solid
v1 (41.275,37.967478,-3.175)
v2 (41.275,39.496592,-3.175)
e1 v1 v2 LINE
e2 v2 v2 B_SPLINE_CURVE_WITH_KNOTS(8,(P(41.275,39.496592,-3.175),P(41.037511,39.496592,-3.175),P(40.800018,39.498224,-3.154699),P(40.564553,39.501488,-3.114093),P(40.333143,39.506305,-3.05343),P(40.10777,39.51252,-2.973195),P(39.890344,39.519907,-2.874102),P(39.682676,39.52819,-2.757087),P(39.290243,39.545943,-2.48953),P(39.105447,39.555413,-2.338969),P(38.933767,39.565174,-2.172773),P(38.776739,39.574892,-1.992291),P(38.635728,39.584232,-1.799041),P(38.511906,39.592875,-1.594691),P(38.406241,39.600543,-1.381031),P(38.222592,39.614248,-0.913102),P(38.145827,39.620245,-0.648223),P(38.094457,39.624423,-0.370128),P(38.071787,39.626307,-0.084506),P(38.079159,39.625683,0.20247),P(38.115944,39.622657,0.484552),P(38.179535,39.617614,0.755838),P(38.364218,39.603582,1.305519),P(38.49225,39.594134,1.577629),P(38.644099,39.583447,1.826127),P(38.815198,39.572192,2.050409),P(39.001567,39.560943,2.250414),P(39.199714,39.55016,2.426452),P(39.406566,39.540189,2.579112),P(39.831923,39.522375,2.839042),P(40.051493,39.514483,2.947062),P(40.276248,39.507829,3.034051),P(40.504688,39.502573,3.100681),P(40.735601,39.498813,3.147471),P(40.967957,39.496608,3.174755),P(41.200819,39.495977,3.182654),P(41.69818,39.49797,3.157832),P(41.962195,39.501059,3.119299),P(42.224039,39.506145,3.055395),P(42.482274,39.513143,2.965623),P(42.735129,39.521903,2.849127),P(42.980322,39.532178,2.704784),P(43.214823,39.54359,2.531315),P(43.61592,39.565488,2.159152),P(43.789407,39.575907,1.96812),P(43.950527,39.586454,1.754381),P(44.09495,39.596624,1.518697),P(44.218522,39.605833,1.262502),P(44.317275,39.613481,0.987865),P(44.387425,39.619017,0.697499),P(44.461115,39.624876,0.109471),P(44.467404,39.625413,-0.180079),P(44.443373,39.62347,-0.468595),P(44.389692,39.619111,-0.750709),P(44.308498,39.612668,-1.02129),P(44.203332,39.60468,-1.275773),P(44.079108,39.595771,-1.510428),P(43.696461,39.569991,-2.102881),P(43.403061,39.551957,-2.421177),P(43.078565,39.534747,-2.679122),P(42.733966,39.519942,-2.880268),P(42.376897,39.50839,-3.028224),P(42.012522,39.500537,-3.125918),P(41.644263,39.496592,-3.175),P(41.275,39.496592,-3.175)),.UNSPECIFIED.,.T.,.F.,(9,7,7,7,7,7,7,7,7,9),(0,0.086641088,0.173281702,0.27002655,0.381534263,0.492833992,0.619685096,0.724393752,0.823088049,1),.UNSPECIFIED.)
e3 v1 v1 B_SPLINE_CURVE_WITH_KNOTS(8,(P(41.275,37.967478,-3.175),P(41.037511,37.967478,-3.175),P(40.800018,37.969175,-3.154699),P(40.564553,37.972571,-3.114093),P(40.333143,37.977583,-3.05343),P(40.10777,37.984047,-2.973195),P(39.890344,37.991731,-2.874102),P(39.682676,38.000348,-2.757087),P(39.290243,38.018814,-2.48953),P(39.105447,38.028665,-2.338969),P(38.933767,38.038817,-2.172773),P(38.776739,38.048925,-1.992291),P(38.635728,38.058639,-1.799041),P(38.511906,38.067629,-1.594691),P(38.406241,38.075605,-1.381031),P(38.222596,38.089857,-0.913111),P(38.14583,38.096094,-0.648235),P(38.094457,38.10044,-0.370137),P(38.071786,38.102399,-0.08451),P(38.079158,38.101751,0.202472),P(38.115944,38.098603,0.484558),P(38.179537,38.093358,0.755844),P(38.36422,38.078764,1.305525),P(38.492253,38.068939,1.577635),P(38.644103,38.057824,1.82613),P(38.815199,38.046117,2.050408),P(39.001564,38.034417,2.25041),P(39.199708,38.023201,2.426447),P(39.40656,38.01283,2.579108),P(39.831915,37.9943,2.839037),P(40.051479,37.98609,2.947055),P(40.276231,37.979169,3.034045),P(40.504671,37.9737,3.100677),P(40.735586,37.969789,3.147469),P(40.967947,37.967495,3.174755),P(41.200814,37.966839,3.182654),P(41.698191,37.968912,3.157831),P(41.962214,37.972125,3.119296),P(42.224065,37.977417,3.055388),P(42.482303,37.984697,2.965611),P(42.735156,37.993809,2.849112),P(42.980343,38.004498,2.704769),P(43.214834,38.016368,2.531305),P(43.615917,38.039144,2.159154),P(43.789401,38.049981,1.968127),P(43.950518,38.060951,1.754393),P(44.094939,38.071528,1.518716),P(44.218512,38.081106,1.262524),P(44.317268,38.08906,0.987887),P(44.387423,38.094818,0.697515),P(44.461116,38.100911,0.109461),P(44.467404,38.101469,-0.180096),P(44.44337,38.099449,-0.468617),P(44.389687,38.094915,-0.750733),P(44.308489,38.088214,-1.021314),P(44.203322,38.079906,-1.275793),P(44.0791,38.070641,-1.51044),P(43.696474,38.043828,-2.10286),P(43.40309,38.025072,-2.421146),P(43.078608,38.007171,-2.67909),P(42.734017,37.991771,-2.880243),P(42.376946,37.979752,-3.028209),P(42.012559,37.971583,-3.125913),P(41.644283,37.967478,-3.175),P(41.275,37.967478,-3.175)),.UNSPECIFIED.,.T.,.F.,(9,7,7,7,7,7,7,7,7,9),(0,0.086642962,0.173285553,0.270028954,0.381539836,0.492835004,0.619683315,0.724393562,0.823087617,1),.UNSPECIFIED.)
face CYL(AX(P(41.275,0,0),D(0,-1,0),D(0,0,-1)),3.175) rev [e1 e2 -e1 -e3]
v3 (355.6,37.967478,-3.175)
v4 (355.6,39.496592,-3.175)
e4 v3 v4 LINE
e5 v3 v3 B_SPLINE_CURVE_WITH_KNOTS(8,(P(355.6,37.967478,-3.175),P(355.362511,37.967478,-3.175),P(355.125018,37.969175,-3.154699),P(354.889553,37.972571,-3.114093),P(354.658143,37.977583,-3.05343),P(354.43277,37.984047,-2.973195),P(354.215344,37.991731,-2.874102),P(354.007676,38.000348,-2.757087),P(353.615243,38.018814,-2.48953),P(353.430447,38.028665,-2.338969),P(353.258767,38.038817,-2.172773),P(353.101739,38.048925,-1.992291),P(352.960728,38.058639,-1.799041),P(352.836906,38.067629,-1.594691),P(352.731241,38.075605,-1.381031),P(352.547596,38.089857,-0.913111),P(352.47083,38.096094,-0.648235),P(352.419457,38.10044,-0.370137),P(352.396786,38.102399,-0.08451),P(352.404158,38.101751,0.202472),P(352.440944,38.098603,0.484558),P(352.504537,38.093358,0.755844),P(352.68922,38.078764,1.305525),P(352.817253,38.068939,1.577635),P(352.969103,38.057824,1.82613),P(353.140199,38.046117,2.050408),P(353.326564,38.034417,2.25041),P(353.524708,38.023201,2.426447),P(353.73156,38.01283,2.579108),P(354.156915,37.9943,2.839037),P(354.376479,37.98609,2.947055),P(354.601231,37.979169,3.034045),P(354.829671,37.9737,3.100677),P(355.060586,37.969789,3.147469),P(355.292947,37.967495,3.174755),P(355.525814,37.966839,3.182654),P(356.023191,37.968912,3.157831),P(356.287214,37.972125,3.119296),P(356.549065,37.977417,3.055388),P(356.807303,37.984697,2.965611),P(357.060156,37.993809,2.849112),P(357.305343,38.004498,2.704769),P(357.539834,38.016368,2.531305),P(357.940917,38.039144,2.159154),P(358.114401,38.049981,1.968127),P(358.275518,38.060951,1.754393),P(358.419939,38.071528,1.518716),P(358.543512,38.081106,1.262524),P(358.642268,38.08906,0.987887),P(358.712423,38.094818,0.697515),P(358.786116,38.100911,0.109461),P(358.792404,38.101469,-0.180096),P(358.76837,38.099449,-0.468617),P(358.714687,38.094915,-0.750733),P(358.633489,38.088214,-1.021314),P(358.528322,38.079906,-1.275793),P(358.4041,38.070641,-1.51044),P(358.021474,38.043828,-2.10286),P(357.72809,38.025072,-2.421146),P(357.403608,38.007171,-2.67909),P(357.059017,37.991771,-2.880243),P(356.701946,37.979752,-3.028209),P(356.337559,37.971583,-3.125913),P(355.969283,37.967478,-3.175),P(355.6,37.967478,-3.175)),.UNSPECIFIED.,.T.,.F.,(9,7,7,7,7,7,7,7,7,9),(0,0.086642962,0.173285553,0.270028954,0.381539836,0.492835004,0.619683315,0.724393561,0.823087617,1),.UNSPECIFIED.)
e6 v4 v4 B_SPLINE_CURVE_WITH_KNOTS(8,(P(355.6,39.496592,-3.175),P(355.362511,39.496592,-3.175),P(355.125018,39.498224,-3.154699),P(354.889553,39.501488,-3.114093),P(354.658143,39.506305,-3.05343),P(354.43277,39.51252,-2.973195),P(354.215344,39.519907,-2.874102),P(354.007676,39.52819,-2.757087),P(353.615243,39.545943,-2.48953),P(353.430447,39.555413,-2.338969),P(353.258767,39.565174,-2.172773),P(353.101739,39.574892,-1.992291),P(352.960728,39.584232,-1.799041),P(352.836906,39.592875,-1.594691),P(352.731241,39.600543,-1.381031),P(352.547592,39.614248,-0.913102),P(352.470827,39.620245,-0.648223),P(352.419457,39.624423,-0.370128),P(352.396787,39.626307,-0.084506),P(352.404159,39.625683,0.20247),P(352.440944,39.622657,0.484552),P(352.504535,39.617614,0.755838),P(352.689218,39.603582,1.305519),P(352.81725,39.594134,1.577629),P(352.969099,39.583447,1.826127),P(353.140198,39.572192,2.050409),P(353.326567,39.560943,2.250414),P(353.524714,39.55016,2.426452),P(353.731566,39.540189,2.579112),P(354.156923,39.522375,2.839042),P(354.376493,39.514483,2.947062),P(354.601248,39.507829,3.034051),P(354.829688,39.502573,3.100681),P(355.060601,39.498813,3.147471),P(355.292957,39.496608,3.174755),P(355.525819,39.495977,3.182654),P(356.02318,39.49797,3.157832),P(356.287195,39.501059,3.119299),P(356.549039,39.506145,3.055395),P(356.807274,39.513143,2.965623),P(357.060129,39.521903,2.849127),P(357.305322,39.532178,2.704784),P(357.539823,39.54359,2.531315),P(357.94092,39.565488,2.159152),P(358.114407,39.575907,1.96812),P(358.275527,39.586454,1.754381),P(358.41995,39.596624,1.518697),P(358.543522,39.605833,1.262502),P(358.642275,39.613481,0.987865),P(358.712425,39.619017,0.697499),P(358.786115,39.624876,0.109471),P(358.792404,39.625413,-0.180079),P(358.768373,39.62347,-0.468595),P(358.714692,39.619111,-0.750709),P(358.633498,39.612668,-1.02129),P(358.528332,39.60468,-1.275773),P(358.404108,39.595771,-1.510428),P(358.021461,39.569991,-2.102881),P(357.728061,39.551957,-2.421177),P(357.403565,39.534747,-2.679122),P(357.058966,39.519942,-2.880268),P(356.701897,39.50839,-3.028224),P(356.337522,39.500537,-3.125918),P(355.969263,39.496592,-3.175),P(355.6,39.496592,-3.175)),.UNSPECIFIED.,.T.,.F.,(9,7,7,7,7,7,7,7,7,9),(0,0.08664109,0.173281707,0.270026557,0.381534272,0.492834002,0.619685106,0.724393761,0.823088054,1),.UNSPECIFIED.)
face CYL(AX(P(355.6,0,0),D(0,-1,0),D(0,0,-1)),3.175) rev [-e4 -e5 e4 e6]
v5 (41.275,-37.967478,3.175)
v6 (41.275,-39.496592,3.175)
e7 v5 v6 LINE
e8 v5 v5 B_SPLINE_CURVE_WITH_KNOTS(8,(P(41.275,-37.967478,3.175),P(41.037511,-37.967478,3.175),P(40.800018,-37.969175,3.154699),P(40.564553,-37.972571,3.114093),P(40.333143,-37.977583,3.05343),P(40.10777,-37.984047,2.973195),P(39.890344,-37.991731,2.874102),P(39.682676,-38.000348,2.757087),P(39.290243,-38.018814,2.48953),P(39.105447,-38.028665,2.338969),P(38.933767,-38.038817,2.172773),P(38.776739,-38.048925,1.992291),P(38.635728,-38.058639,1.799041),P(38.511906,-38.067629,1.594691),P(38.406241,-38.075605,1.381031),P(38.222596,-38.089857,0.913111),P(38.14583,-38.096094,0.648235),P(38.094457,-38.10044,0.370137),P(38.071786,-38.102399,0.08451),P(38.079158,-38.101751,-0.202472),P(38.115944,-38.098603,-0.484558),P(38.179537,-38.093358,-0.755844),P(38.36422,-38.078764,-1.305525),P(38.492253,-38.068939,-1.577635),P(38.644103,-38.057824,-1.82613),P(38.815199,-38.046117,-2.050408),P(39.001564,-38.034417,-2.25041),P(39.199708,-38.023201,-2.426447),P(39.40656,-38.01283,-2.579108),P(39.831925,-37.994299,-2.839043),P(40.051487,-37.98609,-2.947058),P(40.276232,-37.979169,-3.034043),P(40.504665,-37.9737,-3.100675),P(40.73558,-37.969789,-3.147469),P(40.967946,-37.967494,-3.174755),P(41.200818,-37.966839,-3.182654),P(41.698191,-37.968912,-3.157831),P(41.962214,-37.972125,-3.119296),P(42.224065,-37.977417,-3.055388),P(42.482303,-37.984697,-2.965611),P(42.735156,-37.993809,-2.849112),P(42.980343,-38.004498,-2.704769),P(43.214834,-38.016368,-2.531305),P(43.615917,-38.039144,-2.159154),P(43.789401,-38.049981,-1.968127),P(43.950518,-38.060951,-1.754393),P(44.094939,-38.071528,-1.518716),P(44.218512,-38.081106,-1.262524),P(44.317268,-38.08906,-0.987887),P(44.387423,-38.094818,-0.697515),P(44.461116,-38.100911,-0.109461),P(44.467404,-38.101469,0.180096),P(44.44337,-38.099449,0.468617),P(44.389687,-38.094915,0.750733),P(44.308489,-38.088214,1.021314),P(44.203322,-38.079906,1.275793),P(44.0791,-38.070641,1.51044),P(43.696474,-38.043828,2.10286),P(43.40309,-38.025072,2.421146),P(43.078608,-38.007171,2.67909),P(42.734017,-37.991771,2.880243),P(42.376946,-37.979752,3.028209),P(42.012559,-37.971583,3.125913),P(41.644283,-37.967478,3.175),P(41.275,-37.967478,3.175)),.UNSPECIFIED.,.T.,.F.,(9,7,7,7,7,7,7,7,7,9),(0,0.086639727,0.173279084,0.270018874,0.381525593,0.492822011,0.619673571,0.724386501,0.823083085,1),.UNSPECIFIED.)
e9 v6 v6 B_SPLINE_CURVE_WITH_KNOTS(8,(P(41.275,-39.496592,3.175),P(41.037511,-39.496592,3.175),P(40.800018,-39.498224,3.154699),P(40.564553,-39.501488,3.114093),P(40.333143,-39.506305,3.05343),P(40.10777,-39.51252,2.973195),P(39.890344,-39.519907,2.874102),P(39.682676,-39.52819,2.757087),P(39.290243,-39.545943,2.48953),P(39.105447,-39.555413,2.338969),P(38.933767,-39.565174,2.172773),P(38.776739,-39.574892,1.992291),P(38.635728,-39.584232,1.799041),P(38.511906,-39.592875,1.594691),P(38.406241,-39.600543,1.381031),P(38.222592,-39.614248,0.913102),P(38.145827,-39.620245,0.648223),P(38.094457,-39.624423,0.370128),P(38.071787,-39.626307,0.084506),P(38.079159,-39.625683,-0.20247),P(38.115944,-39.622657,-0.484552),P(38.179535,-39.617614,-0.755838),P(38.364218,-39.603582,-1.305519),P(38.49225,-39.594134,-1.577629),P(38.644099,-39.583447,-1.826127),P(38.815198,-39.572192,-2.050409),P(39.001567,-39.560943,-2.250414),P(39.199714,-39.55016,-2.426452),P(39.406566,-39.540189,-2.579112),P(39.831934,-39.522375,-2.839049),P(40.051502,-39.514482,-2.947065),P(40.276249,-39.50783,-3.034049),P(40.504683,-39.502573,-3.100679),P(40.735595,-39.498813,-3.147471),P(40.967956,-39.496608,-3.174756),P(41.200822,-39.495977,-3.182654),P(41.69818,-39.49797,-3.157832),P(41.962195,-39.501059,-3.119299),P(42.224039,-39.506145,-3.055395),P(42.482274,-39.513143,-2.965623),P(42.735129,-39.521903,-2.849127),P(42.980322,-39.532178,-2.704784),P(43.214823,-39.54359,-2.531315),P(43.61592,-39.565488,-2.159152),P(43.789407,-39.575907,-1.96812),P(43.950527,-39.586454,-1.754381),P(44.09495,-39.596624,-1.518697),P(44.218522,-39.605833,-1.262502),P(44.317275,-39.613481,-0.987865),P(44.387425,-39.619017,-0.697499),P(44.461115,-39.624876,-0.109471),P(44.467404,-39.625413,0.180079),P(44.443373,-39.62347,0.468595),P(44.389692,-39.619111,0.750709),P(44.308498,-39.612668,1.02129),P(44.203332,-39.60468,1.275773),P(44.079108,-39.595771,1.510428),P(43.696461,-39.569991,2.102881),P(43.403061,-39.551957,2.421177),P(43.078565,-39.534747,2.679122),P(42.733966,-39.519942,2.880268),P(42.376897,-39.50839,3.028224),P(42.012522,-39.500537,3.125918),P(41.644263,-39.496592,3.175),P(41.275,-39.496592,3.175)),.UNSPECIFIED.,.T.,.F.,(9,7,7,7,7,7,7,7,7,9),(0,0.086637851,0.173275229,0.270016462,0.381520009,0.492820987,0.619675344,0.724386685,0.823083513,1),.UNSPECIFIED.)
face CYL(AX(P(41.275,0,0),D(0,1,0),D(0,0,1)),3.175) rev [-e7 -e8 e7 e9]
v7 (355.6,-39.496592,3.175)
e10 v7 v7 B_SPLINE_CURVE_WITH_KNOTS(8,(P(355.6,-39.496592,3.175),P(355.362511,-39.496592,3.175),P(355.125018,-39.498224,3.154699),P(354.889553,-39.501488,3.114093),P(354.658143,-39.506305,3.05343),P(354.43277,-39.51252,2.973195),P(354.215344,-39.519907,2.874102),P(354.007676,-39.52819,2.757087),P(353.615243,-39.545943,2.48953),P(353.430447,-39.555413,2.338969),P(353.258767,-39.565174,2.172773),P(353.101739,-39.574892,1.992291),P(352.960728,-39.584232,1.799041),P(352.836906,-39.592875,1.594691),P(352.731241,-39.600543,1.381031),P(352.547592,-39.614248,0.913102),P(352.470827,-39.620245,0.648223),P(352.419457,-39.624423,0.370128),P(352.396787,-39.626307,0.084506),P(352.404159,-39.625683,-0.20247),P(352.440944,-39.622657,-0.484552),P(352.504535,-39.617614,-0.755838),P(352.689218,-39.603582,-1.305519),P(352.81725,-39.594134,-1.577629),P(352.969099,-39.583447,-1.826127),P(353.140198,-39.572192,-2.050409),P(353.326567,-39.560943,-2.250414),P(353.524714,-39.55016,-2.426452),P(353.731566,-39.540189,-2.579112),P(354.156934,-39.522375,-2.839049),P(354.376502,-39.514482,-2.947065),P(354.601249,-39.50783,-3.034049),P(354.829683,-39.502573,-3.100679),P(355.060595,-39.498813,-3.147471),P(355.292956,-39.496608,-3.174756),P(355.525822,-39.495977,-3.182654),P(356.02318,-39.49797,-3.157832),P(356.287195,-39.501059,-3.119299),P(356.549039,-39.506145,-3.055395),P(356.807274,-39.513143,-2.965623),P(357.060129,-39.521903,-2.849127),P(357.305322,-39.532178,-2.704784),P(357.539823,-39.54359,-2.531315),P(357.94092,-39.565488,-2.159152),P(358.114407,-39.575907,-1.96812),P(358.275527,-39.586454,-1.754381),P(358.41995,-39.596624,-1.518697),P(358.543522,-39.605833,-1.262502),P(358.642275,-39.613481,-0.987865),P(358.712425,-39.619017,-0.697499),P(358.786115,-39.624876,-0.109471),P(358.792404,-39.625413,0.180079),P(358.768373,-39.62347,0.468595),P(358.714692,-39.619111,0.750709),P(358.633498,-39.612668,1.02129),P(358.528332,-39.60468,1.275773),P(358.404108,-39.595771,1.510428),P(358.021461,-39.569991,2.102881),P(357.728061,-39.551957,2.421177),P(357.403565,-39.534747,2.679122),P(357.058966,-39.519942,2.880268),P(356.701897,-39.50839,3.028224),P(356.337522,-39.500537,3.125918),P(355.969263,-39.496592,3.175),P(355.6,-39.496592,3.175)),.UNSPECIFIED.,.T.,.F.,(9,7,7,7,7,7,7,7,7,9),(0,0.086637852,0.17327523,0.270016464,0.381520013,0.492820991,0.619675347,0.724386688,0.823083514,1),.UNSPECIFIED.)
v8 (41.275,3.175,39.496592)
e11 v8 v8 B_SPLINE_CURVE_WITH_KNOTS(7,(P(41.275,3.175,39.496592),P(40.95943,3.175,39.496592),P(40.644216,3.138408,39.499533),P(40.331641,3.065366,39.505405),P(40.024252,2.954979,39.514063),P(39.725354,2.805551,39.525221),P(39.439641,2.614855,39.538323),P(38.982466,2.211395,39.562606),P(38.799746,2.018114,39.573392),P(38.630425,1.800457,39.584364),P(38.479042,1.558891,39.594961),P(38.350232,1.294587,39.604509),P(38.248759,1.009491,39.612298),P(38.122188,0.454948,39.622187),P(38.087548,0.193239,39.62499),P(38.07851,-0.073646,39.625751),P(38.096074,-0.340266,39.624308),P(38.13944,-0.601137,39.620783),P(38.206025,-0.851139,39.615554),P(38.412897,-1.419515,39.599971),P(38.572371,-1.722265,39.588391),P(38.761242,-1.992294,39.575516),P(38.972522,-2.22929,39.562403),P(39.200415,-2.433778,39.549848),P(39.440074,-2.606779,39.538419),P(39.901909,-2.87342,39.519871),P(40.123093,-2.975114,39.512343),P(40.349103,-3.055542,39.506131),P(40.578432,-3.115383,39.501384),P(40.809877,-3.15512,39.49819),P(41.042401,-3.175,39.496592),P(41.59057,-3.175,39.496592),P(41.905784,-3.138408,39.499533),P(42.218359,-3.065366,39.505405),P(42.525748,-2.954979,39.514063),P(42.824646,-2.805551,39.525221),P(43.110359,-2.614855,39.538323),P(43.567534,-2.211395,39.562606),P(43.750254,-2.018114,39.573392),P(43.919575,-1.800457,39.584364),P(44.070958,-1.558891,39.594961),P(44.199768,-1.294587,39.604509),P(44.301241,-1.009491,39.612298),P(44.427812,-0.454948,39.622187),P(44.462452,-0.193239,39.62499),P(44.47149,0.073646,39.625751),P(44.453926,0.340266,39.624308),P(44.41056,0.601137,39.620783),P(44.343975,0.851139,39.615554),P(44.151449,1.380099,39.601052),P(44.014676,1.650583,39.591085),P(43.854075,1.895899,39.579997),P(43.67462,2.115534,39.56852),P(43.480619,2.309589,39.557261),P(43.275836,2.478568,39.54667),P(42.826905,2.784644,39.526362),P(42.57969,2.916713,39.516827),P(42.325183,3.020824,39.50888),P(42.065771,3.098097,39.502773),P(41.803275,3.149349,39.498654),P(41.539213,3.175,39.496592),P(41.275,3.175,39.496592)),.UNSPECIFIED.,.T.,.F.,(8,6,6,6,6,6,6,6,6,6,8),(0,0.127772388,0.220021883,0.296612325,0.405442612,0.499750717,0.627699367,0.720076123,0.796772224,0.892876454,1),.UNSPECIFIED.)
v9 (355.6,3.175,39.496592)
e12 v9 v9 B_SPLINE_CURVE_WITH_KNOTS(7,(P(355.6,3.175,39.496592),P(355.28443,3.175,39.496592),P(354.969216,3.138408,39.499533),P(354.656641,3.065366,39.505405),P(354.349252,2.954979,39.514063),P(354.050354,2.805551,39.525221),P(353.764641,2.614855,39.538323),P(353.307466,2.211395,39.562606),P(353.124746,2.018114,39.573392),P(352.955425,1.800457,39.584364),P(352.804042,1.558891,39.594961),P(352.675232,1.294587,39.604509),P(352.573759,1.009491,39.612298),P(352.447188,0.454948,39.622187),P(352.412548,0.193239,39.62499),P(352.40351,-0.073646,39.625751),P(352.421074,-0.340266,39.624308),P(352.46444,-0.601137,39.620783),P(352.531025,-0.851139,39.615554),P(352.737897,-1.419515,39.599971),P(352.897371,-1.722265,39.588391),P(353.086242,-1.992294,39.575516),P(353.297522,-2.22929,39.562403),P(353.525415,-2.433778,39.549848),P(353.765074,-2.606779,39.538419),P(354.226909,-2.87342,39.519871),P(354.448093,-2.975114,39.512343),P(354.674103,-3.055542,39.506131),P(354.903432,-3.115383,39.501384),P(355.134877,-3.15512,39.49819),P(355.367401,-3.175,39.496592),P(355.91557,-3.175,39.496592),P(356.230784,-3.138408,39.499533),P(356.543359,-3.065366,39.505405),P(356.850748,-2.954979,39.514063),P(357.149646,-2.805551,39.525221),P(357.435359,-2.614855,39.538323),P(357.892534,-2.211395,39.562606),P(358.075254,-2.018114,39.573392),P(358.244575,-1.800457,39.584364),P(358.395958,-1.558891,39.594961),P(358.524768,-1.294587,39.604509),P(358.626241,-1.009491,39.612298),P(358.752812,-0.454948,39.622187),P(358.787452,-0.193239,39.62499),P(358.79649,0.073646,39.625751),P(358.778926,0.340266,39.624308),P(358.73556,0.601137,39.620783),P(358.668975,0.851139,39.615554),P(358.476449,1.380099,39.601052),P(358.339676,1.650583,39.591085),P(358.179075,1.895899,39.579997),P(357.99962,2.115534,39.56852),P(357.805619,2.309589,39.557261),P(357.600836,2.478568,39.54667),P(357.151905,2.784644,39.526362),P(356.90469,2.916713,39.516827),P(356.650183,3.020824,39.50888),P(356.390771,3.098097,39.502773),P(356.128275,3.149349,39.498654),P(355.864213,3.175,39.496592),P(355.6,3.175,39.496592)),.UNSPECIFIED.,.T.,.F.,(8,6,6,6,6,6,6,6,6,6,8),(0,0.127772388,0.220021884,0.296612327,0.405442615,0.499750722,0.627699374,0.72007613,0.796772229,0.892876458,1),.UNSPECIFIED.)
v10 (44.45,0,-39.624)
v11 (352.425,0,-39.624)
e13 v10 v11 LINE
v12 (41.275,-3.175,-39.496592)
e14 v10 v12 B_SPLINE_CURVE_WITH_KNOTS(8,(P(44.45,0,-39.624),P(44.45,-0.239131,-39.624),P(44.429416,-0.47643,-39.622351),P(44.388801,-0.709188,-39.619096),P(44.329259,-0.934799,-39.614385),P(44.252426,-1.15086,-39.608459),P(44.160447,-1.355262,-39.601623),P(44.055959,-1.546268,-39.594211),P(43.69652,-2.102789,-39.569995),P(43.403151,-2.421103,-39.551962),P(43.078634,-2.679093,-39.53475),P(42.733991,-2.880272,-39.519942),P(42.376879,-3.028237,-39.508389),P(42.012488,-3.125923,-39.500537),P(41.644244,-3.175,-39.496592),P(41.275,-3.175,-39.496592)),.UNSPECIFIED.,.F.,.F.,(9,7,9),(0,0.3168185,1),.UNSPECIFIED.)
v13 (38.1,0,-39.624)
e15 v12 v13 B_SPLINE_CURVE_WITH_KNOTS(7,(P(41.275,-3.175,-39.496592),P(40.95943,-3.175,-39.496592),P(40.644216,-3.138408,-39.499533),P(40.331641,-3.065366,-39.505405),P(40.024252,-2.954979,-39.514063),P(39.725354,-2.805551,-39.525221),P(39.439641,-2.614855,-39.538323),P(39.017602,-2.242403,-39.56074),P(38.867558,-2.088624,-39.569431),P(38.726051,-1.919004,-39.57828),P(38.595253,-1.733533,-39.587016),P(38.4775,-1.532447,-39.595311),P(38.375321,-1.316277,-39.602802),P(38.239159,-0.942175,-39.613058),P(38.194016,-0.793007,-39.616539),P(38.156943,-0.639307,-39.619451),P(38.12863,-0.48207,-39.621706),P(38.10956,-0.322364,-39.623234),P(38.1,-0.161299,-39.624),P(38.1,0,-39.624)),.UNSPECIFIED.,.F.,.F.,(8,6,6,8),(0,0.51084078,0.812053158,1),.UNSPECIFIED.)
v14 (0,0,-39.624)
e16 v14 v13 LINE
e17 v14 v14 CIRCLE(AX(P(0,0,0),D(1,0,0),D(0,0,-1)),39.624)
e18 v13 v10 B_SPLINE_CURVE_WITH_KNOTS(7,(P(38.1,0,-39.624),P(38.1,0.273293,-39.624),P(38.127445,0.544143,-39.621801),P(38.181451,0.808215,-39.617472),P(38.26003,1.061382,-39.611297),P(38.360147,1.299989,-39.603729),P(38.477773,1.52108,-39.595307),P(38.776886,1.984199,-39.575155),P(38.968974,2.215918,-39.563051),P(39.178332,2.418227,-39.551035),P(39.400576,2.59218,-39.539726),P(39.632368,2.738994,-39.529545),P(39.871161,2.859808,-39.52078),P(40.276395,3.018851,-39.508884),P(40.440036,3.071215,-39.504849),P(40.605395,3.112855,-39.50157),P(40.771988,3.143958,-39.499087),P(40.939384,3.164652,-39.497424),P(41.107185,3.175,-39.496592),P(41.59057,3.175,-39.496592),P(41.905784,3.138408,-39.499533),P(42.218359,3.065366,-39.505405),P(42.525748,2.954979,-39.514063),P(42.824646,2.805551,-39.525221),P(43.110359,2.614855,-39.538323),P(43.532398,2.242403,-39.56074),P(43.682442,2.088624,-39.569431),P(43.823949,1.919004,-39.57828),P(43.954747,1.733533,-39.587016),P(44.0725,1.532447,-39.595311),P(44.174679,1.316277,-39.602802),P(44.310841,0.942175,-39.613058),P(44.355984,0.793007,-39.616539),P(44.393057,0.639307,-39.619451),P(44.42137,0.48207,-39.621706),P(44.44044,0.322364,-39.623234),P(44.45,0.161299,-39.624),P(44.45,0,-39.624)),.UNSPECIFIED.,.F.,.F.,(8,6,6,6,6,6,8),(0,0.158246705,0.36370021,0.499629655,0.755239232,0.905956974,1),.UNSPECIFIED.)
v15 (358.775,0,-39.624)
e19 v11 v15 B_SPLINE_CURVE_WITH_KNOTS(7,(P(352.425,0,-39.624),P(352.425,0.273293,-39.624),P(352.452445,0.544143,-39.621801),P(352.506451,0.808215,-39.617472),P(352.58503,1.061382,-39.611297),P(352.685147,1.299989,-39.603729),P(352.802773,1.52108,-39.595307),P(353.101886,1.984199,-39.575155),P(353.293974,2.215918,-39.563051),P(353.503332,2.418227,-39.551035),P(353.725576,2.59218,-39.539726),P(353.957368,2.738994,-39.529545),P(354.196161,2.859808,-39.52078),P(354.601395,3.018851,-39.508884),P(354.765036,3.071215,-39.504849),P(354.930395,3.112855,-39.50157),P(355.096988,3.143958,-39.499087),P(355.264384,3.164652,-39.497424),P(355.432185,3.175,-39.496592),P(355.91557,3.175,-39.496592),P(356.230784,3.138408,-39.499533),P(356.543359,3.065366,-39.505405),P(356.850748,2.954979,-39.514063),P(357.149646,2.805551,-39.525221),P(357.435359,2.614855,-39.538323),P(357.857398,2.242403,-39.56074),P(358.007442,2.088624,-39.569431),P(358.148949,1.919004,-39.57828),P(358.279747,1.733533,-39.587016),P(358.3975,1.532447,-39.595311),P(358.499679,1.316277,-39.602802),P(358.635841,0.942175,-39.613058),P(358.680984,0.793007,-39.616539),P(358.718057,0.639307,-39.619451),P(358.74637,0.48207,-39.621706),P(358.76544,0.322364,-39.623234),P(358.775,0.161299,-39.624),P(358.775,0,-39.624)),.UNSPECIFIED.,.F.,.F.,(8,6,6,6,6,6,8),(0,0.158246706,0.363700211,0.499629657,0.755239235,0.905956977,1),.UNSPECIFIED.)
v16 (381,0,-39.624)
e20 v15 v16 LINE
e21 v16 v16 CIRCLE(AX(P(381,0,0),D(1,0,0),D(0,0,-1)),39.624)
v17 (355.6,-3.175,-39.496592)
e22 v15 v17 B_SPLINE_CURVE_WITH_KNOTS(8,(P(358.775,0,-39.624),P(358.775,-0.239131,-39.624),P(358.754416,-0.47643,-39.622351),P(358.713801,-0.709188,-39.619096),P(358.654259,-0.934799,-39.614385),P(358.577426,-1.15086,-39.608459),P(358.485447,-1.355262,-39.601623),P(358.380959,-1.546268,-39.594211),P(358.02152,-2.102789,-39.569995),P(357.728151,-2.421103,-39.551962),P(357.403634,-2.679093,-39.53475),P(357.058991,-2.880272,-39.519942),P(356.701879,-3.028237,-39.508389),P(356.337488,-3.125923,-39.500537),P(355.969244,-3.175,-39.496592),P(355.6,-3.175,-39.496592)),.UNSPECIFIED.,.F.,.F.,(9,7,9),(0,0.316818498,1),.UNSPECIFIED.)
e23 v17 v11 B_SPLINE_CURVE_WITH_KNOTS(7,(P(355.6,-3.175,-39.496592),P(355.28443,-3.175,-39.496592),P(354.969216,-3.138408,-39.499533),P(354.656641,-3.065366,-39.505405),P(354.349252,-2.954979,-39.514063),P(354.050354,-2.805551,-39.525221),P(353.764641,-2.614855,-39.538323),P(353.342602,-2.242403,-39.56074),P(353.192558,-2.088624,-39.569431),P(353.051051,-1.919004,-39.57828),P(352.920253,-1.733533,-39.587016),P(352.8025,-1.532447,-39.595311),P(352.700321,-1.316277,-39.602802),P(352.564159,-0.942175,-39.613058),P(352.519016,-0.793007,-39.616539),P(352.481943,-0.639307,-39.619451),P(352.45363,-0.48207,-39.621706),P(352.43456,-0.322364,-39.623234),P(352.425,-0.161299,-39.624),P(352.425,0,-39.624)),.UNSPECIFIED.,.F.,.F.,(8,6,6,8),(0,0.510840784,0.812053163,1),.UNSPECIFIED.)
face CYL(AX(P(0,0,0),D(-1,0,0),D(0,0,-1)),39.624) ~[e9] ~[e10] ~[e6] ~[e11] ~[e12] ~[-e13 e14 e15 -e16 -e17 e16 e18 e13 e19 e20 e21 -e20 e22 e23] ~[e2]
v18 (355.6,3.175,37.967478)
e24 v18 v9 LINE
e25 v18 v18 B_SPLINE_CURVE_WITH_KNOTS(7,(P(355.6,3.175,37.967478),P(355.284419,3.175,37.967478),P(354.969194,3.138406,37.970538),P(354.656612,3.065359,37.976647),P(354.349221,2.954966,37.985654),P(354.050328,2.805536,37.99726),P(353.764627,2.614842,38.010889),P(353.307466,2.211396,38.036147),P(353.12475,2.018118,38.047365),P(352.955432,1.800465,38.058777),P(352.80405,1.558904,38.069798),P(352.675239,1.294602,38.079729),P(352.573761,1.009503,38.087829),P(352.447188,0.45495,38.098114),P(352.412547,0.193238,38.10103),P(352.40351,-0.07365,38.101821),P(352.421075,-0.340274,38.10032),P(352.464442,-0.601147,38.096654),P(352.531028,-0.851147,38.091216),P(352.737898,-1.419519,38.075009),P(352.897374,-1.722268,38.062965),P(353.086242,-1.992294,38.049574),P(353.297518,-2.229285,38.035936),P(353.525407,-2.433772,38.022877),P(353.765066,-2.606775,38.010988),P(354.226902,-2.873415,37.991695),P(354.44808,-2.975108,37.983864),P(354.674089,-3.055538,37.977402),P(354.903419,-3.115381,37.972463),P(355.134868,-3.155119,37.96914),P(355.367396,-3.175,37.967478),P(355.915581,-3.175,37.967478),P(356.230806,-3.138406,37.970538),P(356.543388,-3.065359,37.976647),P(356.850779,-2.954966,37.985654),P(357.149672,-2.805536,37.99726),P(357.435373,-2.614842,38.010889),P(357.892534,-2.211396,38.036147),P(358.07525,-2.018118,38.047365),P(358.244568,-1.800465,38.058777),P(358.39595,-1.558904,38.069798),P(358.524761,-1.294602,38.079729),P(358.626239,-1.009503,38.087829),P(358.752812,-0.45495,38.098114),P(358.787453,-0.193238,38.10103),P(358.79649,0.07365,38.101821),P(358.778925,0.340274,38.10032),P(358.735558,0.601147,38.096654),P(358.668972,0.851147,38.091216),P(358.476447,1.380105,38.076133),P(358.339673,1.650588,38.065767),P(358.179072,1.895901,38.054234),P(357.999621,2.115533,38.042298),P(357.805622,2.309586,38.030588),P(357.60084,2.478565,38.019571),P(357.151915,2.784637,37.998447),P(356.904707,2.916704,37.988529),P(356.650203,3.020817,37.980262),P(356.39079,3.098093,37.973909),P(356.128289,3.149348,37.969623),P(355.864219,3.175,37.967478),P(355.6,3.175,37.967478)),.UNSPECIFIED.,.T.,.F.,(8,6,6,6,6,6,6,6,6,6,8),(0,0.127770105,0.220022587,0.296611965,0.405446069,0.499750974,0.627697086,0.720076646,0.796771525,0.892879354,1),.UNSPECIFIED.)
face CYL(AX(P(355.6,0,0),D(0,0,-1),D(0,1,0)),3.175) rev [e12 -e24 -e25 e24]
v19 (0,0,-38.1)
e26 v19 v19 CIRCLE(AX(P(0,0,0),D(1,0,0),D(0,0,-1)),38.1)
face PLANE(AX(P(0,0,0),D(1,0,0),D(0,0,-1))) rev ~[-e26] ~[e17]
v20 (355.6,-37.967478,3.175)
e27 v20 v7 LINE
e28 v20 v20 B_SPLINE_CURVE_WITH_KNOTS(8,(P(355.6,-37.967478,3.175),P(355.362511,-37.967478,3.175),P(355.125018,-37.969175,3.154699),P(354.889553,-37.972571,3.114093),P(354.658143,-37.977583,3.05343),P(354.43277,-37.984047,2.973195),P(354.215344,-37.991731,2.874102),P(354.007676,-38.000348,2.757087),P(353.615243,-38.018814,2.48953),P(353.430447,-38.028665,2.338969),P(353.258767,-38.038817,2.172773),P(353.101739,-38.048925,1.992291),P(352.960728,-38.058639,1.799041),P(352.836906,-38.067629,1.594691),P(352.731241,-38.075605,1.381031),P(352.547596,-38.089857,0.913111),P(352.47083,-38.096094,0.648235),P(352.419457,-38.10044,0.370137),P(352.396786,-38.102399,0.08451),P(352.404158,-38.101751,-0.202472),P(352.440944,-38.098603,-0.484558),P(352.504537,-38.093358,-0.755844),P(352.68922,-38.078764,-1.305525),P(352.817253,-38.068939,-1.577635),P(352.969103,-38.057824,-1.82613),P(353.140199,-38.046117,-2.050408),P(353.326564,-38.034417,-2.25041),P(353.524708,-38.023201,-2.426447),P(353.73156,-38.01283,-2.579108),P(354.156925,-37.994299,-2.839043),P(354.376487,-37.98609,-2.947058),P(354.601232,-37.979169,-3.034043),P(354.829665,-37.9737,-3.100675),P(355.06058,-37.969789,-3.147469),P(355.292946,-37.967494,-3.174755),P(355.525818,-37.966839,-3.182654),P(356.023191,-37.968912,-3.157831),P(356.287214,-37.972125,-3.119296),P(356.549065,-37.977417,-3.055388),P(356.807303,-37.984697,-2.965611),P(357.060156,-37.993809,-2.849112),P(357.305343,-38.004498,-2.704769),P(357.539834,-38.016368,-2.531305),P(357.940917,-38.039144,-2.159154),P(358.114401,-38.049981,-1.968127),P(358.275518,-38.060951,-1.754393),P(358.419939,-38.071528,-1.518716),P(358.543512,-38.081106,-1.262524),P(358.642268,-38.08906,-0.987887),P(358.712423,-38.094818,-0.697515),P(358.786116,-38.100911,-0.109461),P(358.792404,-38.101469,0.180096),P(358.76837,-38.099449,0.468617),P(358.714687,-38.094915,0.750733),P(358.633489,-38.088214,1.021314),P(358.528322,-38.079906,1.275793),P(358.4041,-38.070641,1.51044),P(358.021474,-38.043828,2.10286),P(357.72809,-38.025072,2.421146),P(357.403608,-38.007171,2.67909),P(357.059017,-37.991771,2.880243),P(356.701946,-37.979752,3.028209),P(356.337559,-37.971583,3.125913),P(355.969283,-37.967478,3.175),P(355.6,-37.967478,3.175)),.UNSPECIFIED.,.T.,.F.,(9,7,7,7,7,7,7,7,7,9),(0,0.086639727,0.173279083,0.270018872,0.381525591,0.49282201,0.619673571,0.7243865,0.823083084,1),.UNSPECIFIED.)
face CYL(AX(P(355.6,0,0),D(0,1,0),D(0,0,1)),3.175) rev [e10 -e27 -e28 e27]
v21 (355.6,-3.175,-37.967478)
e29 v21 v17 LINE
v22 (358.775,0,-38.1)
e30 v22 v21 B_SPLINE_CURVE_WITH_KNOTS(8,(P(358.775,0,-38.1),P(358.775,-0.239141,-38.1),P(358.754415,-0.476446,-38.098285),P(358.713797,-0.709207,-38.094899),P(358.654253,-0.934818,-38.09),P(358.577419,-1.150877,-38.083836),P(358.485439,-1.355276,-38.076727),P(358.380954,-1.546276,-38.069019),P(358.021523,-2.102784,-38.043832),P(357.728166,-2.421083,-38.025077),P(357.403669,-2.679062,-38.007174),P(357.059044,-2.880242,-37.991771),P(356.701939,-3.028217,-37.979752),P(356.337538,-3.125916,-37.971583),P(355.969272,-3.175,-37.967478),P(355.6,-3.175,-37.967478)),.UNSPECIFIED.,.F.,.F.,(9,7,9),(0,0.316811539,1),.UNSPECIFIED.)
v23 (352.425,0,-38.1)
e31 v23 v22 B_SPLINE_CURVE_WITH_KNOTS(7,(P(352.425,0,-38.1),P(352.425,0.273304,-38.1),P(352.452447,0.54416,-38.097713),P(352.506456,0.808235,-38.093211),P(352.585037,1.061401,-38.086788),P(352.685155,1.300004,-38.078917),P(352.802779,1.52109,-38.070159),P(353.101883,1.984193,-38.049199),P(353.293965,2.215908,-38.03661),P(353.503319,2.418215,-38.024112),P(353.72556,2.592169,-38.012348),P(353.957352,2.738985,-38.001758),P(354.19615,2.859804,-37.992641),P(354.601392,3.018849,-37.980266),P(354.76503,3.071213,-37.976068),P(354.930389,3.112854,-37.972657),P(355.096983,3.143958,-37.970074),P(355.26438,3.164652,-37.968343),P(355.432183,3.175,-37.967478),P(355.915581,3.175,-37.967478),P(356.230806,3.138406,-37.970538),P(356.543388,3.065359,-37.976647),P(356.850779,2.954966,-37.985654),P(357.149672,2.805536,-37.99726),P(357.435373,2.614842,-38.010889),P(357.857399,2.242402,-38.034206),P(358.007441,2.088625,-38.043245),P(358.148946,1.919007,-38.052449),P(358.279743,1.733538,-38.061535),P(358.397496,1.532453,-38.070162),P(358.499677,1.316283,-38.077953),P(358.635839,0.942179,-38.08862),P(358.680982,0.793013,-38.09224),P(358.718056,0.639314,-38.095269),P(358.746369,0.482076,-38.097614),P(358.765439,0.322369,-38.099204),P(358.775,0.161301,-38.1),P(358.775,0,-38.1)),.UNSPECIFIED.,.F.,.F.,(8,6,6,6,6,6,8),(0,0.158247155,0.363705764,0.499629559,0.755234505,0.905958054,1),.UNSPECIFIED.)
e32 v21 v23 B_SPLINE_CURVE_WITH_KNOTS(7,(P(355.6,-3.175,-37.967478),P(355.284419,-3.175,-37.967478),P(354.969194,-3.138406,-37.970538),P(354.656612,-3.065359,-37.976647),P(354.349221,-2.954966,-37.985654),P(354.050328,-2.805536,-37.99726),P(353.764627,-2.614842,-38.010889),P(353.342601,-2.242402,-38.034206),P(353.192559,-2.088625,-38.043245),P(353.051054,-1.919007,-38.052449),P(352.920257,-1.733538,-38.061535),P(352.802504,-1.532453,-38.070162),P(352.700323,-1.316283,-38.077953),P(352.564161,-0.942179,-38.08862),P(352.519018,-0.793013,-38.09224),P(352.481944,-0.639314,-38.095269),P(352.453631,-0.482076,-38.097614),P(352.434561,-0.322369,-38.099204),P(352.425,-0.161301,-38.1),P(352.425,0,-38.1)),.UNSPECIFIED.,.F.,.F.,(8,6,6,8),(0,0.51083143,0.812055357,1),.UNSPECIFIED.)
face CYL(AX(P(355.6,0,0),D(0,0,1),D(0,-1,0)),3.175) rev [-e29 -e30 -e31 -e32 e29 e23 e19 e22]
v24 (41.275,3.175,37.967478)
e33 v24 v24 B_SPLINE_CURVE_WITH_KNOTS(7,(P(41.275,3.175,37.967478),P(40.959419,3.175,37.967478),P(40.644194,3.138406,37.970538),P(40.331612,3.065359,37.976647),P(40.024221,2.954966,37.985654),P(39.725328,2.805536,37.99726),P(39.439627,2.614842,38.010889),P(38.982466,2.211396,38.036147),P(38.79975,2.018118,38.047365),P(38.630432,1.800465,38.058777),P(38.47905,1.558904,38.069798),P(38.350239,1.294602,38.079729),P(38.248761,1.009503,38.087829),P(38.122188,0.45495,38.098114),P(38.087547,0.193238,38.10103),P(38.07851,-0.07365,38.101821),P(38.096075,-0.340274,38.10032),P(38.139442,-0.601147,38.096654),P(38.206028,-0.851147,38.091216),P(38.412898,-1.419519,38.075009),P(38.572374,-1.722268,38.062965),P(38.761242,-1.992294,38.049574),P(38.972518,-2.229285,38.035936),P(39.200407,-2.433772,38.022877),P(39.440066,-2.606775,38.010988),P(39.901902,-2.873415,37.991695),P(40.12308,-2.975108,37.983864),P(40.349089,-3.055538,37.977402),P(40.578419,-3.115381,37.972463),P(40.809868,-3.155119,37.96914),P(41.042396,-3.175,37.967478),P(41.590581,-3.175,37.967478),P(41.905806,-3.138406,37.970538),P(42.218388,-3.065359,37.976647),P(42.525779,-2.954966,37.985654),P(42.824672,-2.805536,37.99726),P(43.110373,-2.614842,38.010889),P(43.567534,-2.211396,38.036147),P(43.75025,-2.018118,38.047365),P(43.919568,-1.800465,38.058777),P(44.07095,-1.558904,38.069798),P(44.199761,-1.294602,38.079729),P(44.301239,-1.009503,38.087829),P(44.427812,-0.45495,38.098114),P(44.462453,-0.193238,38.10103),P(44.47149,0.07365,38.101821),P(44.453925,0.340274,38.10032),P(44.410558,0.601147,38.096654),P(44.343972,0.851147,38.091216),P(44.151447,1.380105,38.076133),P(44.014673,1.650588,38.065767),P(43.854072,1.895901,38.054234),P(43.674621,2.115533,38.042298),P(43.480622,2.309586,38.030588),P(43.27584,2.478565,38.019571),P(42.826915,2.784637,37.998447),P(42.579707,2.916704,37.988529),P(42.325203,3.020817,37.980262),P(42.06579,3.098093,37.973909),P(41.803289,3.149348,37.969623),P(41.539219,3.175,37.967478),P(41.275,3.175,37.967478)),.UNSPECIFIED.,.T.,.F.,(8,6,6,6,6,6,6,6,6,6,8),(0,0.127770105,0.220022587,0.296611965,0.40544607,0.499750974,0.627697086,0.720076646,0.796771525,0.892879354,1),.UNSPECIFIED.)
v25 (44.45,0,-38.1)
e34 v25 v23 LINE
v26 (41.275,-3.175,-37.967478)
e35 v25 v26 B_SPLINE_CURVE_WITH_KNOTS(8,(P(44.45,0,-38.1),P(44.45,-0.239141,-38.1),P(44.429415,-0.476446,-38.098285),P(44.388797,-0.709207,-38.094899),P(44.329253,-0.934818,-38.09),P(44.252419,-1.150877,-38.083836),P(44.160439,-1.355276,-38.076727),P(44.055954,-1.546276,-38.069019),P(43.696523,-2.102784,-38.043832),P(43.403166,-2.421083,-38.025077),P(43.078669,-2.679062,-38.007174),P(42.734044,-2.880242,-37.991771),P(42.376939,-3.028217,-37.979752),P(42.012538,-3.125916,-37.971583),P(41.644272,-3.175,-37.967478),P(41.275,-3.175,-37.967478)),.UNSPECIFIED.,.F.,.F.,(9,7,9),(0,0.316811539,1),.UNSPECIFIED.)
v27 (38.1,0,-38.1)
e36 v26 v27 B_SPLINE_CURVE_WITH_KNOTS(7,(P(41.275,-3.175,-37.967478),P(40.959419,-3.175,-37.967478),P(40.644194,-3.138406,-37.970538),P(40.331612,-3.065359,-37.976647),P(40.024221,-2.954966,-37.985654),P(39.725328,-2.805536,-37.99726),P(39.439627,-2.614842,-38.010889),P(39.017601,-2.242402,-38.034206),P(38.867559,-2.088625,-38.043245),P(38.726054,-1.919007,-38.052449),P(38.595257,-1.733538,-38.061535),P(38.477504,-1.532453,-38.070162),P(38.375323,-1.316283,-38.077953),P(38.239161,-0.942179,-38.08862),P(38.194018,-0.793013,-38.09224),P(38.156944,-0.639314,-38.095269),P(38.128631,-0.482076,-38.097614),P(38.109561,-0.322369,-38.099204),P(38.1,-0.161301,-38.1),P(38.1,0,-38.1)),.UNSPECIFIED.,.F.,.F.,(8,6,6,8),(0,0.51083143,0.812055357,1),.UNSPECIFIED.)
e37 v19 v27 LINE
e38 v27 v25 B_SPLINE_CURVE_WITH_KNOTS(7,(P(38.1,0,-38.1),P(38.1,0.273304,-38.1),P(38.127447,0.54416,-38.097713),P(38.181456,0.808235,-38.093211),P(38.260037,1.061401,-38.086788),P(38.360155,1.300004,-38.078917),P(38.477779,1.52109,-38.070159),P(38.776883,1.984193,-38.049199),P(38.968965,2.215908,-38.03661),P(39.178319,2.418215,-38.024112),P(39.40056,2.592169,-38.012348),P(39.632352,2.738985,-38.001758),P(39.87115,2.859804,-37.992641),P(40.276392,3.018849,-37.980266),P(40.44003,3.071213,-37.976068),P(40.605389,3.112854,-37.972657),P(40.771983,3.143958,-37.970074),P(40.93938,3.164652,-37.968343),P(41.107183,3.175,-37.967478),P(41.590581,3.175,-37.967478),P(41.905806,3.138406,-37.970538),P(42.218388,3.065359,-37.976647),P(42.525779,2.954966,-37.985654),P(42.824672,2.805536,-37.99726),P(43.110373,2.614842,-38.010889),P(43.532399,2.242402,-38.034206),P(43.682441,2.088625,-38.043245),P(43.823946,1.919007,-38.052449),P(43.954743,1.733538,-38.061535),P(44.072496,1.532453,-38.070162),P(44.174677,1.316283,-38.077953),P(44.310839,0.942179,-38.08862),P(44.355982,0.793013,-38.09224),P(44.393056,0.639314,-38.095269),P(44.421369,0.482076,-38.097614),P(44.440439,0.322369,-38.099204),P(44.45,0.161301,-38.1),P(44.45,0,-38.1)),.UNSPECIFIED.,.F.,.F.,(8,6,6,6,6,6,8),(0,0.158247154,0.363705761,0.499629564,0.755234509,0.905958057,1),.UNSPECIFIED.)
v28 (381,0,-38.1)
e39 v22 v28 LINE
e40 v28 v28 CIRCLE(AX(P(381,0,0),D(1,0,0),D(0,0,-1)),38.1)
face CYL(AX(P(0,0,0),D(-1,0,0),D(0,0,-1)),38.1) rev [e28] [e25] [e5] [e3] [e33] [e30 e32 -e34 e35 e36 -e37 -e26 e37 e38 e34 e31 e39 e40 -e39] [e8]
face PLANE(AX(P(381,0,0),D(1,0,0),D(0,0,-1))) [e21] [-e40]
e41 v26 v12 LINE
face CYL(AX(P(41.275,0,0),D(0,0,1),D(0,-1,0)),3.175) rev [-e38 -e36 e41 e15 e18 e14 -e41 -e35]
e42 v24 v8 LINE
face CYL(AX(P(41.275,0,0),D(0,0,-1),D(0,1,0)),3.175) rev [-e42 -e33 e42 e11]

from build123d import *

# Parameters (mm, degrees)
SKETCH1_R           = 39.624
SKETCH1_R_2         = 38.1
BOSS_EXTRUDE1_DEPTH = 381
SKETCH2_R           = 3.175
CUT_EXTRUDE1_DEPTH  = 386.098848027
CIRPATTERN1_COUNT   = 4
SKETCH3_R           = 3.175
CUT_EXTRUDE2_DEPTH  = 386.098848147
CIRPATTERN2_COUNT   = 4


with BuildPart() as part:
    # Sketch1 → Boss-Extrude1 (new body)
    with BuildSketch(Plane.YZ):
        with Locations(Location((0, 0, 0), (0, 0, 270))):
            Circle(SKETCH1_R)
        with Locations(Location((0, 0, 0), (0, 0, 270))):
            Circle(SKETCH1_R_2, mode=Mode.SUBTRACT)
    extrude(amount=BOSS_EXTRUDE1_DEPTH)

    # Sketch2 → Cut-Extrude1 (cut, through all)
    with BuildSketch(Plane(origin=(0, 0, 0), x_dir=(-1, 0, 0), z_dir=(0, 1, 0))):
        with Locations(Location((-355.6, 0, 0), (0, 0, 270))):
            Circle(SKETCH2_R)
    cut_extrude1 = extrude(amount=CUT_EXTRUDE1_DEPTH, mode=Mode.SUBTRACT)

    # CirPattern1: Cut-Extrude1 ×4 about axis
    cirpattern1_axis = Axis((381, 0, 0), (-1, 0, 0))
    for i in range(1, CIRPATTERN1_COUNT):
        add(cut_extrude1.rotate(cirpattern1_axis, i * 360 / CIRPATTERN1_COUNT), mode=Mode.SUBTRACT)

    # Sketch3 → Cut-Extrude2 (cut, through all)
    with BuildSketch(Plane(origin=(0, 0, 0), x_dir=(-1, 0, 0), z_dir=(0, 1, 0))):
        with Locations(Location((-41.275, 0, 0), (0, 0, 270))):
            Circle(SKETCH3_R)
    cut_extrude2 = extrude(amount=CUT_EXTRUDE2_DEPTH, mode=Mode.SUBTRACT)

    # CirPattern2: Cut-Extrude2 ×4 about axis
    cirpattern2_axis = Axis((381, 0, 0), (-1, 0, 0))
    for i in range(1, CIRPATTERN2_COUNT):
        add(cut_extrude2.rotate(cirpattern2_axis, i * 360 / CIRPATTERN2_COUNT), mode=Mode.SUBTRACT)


solid = part.part
